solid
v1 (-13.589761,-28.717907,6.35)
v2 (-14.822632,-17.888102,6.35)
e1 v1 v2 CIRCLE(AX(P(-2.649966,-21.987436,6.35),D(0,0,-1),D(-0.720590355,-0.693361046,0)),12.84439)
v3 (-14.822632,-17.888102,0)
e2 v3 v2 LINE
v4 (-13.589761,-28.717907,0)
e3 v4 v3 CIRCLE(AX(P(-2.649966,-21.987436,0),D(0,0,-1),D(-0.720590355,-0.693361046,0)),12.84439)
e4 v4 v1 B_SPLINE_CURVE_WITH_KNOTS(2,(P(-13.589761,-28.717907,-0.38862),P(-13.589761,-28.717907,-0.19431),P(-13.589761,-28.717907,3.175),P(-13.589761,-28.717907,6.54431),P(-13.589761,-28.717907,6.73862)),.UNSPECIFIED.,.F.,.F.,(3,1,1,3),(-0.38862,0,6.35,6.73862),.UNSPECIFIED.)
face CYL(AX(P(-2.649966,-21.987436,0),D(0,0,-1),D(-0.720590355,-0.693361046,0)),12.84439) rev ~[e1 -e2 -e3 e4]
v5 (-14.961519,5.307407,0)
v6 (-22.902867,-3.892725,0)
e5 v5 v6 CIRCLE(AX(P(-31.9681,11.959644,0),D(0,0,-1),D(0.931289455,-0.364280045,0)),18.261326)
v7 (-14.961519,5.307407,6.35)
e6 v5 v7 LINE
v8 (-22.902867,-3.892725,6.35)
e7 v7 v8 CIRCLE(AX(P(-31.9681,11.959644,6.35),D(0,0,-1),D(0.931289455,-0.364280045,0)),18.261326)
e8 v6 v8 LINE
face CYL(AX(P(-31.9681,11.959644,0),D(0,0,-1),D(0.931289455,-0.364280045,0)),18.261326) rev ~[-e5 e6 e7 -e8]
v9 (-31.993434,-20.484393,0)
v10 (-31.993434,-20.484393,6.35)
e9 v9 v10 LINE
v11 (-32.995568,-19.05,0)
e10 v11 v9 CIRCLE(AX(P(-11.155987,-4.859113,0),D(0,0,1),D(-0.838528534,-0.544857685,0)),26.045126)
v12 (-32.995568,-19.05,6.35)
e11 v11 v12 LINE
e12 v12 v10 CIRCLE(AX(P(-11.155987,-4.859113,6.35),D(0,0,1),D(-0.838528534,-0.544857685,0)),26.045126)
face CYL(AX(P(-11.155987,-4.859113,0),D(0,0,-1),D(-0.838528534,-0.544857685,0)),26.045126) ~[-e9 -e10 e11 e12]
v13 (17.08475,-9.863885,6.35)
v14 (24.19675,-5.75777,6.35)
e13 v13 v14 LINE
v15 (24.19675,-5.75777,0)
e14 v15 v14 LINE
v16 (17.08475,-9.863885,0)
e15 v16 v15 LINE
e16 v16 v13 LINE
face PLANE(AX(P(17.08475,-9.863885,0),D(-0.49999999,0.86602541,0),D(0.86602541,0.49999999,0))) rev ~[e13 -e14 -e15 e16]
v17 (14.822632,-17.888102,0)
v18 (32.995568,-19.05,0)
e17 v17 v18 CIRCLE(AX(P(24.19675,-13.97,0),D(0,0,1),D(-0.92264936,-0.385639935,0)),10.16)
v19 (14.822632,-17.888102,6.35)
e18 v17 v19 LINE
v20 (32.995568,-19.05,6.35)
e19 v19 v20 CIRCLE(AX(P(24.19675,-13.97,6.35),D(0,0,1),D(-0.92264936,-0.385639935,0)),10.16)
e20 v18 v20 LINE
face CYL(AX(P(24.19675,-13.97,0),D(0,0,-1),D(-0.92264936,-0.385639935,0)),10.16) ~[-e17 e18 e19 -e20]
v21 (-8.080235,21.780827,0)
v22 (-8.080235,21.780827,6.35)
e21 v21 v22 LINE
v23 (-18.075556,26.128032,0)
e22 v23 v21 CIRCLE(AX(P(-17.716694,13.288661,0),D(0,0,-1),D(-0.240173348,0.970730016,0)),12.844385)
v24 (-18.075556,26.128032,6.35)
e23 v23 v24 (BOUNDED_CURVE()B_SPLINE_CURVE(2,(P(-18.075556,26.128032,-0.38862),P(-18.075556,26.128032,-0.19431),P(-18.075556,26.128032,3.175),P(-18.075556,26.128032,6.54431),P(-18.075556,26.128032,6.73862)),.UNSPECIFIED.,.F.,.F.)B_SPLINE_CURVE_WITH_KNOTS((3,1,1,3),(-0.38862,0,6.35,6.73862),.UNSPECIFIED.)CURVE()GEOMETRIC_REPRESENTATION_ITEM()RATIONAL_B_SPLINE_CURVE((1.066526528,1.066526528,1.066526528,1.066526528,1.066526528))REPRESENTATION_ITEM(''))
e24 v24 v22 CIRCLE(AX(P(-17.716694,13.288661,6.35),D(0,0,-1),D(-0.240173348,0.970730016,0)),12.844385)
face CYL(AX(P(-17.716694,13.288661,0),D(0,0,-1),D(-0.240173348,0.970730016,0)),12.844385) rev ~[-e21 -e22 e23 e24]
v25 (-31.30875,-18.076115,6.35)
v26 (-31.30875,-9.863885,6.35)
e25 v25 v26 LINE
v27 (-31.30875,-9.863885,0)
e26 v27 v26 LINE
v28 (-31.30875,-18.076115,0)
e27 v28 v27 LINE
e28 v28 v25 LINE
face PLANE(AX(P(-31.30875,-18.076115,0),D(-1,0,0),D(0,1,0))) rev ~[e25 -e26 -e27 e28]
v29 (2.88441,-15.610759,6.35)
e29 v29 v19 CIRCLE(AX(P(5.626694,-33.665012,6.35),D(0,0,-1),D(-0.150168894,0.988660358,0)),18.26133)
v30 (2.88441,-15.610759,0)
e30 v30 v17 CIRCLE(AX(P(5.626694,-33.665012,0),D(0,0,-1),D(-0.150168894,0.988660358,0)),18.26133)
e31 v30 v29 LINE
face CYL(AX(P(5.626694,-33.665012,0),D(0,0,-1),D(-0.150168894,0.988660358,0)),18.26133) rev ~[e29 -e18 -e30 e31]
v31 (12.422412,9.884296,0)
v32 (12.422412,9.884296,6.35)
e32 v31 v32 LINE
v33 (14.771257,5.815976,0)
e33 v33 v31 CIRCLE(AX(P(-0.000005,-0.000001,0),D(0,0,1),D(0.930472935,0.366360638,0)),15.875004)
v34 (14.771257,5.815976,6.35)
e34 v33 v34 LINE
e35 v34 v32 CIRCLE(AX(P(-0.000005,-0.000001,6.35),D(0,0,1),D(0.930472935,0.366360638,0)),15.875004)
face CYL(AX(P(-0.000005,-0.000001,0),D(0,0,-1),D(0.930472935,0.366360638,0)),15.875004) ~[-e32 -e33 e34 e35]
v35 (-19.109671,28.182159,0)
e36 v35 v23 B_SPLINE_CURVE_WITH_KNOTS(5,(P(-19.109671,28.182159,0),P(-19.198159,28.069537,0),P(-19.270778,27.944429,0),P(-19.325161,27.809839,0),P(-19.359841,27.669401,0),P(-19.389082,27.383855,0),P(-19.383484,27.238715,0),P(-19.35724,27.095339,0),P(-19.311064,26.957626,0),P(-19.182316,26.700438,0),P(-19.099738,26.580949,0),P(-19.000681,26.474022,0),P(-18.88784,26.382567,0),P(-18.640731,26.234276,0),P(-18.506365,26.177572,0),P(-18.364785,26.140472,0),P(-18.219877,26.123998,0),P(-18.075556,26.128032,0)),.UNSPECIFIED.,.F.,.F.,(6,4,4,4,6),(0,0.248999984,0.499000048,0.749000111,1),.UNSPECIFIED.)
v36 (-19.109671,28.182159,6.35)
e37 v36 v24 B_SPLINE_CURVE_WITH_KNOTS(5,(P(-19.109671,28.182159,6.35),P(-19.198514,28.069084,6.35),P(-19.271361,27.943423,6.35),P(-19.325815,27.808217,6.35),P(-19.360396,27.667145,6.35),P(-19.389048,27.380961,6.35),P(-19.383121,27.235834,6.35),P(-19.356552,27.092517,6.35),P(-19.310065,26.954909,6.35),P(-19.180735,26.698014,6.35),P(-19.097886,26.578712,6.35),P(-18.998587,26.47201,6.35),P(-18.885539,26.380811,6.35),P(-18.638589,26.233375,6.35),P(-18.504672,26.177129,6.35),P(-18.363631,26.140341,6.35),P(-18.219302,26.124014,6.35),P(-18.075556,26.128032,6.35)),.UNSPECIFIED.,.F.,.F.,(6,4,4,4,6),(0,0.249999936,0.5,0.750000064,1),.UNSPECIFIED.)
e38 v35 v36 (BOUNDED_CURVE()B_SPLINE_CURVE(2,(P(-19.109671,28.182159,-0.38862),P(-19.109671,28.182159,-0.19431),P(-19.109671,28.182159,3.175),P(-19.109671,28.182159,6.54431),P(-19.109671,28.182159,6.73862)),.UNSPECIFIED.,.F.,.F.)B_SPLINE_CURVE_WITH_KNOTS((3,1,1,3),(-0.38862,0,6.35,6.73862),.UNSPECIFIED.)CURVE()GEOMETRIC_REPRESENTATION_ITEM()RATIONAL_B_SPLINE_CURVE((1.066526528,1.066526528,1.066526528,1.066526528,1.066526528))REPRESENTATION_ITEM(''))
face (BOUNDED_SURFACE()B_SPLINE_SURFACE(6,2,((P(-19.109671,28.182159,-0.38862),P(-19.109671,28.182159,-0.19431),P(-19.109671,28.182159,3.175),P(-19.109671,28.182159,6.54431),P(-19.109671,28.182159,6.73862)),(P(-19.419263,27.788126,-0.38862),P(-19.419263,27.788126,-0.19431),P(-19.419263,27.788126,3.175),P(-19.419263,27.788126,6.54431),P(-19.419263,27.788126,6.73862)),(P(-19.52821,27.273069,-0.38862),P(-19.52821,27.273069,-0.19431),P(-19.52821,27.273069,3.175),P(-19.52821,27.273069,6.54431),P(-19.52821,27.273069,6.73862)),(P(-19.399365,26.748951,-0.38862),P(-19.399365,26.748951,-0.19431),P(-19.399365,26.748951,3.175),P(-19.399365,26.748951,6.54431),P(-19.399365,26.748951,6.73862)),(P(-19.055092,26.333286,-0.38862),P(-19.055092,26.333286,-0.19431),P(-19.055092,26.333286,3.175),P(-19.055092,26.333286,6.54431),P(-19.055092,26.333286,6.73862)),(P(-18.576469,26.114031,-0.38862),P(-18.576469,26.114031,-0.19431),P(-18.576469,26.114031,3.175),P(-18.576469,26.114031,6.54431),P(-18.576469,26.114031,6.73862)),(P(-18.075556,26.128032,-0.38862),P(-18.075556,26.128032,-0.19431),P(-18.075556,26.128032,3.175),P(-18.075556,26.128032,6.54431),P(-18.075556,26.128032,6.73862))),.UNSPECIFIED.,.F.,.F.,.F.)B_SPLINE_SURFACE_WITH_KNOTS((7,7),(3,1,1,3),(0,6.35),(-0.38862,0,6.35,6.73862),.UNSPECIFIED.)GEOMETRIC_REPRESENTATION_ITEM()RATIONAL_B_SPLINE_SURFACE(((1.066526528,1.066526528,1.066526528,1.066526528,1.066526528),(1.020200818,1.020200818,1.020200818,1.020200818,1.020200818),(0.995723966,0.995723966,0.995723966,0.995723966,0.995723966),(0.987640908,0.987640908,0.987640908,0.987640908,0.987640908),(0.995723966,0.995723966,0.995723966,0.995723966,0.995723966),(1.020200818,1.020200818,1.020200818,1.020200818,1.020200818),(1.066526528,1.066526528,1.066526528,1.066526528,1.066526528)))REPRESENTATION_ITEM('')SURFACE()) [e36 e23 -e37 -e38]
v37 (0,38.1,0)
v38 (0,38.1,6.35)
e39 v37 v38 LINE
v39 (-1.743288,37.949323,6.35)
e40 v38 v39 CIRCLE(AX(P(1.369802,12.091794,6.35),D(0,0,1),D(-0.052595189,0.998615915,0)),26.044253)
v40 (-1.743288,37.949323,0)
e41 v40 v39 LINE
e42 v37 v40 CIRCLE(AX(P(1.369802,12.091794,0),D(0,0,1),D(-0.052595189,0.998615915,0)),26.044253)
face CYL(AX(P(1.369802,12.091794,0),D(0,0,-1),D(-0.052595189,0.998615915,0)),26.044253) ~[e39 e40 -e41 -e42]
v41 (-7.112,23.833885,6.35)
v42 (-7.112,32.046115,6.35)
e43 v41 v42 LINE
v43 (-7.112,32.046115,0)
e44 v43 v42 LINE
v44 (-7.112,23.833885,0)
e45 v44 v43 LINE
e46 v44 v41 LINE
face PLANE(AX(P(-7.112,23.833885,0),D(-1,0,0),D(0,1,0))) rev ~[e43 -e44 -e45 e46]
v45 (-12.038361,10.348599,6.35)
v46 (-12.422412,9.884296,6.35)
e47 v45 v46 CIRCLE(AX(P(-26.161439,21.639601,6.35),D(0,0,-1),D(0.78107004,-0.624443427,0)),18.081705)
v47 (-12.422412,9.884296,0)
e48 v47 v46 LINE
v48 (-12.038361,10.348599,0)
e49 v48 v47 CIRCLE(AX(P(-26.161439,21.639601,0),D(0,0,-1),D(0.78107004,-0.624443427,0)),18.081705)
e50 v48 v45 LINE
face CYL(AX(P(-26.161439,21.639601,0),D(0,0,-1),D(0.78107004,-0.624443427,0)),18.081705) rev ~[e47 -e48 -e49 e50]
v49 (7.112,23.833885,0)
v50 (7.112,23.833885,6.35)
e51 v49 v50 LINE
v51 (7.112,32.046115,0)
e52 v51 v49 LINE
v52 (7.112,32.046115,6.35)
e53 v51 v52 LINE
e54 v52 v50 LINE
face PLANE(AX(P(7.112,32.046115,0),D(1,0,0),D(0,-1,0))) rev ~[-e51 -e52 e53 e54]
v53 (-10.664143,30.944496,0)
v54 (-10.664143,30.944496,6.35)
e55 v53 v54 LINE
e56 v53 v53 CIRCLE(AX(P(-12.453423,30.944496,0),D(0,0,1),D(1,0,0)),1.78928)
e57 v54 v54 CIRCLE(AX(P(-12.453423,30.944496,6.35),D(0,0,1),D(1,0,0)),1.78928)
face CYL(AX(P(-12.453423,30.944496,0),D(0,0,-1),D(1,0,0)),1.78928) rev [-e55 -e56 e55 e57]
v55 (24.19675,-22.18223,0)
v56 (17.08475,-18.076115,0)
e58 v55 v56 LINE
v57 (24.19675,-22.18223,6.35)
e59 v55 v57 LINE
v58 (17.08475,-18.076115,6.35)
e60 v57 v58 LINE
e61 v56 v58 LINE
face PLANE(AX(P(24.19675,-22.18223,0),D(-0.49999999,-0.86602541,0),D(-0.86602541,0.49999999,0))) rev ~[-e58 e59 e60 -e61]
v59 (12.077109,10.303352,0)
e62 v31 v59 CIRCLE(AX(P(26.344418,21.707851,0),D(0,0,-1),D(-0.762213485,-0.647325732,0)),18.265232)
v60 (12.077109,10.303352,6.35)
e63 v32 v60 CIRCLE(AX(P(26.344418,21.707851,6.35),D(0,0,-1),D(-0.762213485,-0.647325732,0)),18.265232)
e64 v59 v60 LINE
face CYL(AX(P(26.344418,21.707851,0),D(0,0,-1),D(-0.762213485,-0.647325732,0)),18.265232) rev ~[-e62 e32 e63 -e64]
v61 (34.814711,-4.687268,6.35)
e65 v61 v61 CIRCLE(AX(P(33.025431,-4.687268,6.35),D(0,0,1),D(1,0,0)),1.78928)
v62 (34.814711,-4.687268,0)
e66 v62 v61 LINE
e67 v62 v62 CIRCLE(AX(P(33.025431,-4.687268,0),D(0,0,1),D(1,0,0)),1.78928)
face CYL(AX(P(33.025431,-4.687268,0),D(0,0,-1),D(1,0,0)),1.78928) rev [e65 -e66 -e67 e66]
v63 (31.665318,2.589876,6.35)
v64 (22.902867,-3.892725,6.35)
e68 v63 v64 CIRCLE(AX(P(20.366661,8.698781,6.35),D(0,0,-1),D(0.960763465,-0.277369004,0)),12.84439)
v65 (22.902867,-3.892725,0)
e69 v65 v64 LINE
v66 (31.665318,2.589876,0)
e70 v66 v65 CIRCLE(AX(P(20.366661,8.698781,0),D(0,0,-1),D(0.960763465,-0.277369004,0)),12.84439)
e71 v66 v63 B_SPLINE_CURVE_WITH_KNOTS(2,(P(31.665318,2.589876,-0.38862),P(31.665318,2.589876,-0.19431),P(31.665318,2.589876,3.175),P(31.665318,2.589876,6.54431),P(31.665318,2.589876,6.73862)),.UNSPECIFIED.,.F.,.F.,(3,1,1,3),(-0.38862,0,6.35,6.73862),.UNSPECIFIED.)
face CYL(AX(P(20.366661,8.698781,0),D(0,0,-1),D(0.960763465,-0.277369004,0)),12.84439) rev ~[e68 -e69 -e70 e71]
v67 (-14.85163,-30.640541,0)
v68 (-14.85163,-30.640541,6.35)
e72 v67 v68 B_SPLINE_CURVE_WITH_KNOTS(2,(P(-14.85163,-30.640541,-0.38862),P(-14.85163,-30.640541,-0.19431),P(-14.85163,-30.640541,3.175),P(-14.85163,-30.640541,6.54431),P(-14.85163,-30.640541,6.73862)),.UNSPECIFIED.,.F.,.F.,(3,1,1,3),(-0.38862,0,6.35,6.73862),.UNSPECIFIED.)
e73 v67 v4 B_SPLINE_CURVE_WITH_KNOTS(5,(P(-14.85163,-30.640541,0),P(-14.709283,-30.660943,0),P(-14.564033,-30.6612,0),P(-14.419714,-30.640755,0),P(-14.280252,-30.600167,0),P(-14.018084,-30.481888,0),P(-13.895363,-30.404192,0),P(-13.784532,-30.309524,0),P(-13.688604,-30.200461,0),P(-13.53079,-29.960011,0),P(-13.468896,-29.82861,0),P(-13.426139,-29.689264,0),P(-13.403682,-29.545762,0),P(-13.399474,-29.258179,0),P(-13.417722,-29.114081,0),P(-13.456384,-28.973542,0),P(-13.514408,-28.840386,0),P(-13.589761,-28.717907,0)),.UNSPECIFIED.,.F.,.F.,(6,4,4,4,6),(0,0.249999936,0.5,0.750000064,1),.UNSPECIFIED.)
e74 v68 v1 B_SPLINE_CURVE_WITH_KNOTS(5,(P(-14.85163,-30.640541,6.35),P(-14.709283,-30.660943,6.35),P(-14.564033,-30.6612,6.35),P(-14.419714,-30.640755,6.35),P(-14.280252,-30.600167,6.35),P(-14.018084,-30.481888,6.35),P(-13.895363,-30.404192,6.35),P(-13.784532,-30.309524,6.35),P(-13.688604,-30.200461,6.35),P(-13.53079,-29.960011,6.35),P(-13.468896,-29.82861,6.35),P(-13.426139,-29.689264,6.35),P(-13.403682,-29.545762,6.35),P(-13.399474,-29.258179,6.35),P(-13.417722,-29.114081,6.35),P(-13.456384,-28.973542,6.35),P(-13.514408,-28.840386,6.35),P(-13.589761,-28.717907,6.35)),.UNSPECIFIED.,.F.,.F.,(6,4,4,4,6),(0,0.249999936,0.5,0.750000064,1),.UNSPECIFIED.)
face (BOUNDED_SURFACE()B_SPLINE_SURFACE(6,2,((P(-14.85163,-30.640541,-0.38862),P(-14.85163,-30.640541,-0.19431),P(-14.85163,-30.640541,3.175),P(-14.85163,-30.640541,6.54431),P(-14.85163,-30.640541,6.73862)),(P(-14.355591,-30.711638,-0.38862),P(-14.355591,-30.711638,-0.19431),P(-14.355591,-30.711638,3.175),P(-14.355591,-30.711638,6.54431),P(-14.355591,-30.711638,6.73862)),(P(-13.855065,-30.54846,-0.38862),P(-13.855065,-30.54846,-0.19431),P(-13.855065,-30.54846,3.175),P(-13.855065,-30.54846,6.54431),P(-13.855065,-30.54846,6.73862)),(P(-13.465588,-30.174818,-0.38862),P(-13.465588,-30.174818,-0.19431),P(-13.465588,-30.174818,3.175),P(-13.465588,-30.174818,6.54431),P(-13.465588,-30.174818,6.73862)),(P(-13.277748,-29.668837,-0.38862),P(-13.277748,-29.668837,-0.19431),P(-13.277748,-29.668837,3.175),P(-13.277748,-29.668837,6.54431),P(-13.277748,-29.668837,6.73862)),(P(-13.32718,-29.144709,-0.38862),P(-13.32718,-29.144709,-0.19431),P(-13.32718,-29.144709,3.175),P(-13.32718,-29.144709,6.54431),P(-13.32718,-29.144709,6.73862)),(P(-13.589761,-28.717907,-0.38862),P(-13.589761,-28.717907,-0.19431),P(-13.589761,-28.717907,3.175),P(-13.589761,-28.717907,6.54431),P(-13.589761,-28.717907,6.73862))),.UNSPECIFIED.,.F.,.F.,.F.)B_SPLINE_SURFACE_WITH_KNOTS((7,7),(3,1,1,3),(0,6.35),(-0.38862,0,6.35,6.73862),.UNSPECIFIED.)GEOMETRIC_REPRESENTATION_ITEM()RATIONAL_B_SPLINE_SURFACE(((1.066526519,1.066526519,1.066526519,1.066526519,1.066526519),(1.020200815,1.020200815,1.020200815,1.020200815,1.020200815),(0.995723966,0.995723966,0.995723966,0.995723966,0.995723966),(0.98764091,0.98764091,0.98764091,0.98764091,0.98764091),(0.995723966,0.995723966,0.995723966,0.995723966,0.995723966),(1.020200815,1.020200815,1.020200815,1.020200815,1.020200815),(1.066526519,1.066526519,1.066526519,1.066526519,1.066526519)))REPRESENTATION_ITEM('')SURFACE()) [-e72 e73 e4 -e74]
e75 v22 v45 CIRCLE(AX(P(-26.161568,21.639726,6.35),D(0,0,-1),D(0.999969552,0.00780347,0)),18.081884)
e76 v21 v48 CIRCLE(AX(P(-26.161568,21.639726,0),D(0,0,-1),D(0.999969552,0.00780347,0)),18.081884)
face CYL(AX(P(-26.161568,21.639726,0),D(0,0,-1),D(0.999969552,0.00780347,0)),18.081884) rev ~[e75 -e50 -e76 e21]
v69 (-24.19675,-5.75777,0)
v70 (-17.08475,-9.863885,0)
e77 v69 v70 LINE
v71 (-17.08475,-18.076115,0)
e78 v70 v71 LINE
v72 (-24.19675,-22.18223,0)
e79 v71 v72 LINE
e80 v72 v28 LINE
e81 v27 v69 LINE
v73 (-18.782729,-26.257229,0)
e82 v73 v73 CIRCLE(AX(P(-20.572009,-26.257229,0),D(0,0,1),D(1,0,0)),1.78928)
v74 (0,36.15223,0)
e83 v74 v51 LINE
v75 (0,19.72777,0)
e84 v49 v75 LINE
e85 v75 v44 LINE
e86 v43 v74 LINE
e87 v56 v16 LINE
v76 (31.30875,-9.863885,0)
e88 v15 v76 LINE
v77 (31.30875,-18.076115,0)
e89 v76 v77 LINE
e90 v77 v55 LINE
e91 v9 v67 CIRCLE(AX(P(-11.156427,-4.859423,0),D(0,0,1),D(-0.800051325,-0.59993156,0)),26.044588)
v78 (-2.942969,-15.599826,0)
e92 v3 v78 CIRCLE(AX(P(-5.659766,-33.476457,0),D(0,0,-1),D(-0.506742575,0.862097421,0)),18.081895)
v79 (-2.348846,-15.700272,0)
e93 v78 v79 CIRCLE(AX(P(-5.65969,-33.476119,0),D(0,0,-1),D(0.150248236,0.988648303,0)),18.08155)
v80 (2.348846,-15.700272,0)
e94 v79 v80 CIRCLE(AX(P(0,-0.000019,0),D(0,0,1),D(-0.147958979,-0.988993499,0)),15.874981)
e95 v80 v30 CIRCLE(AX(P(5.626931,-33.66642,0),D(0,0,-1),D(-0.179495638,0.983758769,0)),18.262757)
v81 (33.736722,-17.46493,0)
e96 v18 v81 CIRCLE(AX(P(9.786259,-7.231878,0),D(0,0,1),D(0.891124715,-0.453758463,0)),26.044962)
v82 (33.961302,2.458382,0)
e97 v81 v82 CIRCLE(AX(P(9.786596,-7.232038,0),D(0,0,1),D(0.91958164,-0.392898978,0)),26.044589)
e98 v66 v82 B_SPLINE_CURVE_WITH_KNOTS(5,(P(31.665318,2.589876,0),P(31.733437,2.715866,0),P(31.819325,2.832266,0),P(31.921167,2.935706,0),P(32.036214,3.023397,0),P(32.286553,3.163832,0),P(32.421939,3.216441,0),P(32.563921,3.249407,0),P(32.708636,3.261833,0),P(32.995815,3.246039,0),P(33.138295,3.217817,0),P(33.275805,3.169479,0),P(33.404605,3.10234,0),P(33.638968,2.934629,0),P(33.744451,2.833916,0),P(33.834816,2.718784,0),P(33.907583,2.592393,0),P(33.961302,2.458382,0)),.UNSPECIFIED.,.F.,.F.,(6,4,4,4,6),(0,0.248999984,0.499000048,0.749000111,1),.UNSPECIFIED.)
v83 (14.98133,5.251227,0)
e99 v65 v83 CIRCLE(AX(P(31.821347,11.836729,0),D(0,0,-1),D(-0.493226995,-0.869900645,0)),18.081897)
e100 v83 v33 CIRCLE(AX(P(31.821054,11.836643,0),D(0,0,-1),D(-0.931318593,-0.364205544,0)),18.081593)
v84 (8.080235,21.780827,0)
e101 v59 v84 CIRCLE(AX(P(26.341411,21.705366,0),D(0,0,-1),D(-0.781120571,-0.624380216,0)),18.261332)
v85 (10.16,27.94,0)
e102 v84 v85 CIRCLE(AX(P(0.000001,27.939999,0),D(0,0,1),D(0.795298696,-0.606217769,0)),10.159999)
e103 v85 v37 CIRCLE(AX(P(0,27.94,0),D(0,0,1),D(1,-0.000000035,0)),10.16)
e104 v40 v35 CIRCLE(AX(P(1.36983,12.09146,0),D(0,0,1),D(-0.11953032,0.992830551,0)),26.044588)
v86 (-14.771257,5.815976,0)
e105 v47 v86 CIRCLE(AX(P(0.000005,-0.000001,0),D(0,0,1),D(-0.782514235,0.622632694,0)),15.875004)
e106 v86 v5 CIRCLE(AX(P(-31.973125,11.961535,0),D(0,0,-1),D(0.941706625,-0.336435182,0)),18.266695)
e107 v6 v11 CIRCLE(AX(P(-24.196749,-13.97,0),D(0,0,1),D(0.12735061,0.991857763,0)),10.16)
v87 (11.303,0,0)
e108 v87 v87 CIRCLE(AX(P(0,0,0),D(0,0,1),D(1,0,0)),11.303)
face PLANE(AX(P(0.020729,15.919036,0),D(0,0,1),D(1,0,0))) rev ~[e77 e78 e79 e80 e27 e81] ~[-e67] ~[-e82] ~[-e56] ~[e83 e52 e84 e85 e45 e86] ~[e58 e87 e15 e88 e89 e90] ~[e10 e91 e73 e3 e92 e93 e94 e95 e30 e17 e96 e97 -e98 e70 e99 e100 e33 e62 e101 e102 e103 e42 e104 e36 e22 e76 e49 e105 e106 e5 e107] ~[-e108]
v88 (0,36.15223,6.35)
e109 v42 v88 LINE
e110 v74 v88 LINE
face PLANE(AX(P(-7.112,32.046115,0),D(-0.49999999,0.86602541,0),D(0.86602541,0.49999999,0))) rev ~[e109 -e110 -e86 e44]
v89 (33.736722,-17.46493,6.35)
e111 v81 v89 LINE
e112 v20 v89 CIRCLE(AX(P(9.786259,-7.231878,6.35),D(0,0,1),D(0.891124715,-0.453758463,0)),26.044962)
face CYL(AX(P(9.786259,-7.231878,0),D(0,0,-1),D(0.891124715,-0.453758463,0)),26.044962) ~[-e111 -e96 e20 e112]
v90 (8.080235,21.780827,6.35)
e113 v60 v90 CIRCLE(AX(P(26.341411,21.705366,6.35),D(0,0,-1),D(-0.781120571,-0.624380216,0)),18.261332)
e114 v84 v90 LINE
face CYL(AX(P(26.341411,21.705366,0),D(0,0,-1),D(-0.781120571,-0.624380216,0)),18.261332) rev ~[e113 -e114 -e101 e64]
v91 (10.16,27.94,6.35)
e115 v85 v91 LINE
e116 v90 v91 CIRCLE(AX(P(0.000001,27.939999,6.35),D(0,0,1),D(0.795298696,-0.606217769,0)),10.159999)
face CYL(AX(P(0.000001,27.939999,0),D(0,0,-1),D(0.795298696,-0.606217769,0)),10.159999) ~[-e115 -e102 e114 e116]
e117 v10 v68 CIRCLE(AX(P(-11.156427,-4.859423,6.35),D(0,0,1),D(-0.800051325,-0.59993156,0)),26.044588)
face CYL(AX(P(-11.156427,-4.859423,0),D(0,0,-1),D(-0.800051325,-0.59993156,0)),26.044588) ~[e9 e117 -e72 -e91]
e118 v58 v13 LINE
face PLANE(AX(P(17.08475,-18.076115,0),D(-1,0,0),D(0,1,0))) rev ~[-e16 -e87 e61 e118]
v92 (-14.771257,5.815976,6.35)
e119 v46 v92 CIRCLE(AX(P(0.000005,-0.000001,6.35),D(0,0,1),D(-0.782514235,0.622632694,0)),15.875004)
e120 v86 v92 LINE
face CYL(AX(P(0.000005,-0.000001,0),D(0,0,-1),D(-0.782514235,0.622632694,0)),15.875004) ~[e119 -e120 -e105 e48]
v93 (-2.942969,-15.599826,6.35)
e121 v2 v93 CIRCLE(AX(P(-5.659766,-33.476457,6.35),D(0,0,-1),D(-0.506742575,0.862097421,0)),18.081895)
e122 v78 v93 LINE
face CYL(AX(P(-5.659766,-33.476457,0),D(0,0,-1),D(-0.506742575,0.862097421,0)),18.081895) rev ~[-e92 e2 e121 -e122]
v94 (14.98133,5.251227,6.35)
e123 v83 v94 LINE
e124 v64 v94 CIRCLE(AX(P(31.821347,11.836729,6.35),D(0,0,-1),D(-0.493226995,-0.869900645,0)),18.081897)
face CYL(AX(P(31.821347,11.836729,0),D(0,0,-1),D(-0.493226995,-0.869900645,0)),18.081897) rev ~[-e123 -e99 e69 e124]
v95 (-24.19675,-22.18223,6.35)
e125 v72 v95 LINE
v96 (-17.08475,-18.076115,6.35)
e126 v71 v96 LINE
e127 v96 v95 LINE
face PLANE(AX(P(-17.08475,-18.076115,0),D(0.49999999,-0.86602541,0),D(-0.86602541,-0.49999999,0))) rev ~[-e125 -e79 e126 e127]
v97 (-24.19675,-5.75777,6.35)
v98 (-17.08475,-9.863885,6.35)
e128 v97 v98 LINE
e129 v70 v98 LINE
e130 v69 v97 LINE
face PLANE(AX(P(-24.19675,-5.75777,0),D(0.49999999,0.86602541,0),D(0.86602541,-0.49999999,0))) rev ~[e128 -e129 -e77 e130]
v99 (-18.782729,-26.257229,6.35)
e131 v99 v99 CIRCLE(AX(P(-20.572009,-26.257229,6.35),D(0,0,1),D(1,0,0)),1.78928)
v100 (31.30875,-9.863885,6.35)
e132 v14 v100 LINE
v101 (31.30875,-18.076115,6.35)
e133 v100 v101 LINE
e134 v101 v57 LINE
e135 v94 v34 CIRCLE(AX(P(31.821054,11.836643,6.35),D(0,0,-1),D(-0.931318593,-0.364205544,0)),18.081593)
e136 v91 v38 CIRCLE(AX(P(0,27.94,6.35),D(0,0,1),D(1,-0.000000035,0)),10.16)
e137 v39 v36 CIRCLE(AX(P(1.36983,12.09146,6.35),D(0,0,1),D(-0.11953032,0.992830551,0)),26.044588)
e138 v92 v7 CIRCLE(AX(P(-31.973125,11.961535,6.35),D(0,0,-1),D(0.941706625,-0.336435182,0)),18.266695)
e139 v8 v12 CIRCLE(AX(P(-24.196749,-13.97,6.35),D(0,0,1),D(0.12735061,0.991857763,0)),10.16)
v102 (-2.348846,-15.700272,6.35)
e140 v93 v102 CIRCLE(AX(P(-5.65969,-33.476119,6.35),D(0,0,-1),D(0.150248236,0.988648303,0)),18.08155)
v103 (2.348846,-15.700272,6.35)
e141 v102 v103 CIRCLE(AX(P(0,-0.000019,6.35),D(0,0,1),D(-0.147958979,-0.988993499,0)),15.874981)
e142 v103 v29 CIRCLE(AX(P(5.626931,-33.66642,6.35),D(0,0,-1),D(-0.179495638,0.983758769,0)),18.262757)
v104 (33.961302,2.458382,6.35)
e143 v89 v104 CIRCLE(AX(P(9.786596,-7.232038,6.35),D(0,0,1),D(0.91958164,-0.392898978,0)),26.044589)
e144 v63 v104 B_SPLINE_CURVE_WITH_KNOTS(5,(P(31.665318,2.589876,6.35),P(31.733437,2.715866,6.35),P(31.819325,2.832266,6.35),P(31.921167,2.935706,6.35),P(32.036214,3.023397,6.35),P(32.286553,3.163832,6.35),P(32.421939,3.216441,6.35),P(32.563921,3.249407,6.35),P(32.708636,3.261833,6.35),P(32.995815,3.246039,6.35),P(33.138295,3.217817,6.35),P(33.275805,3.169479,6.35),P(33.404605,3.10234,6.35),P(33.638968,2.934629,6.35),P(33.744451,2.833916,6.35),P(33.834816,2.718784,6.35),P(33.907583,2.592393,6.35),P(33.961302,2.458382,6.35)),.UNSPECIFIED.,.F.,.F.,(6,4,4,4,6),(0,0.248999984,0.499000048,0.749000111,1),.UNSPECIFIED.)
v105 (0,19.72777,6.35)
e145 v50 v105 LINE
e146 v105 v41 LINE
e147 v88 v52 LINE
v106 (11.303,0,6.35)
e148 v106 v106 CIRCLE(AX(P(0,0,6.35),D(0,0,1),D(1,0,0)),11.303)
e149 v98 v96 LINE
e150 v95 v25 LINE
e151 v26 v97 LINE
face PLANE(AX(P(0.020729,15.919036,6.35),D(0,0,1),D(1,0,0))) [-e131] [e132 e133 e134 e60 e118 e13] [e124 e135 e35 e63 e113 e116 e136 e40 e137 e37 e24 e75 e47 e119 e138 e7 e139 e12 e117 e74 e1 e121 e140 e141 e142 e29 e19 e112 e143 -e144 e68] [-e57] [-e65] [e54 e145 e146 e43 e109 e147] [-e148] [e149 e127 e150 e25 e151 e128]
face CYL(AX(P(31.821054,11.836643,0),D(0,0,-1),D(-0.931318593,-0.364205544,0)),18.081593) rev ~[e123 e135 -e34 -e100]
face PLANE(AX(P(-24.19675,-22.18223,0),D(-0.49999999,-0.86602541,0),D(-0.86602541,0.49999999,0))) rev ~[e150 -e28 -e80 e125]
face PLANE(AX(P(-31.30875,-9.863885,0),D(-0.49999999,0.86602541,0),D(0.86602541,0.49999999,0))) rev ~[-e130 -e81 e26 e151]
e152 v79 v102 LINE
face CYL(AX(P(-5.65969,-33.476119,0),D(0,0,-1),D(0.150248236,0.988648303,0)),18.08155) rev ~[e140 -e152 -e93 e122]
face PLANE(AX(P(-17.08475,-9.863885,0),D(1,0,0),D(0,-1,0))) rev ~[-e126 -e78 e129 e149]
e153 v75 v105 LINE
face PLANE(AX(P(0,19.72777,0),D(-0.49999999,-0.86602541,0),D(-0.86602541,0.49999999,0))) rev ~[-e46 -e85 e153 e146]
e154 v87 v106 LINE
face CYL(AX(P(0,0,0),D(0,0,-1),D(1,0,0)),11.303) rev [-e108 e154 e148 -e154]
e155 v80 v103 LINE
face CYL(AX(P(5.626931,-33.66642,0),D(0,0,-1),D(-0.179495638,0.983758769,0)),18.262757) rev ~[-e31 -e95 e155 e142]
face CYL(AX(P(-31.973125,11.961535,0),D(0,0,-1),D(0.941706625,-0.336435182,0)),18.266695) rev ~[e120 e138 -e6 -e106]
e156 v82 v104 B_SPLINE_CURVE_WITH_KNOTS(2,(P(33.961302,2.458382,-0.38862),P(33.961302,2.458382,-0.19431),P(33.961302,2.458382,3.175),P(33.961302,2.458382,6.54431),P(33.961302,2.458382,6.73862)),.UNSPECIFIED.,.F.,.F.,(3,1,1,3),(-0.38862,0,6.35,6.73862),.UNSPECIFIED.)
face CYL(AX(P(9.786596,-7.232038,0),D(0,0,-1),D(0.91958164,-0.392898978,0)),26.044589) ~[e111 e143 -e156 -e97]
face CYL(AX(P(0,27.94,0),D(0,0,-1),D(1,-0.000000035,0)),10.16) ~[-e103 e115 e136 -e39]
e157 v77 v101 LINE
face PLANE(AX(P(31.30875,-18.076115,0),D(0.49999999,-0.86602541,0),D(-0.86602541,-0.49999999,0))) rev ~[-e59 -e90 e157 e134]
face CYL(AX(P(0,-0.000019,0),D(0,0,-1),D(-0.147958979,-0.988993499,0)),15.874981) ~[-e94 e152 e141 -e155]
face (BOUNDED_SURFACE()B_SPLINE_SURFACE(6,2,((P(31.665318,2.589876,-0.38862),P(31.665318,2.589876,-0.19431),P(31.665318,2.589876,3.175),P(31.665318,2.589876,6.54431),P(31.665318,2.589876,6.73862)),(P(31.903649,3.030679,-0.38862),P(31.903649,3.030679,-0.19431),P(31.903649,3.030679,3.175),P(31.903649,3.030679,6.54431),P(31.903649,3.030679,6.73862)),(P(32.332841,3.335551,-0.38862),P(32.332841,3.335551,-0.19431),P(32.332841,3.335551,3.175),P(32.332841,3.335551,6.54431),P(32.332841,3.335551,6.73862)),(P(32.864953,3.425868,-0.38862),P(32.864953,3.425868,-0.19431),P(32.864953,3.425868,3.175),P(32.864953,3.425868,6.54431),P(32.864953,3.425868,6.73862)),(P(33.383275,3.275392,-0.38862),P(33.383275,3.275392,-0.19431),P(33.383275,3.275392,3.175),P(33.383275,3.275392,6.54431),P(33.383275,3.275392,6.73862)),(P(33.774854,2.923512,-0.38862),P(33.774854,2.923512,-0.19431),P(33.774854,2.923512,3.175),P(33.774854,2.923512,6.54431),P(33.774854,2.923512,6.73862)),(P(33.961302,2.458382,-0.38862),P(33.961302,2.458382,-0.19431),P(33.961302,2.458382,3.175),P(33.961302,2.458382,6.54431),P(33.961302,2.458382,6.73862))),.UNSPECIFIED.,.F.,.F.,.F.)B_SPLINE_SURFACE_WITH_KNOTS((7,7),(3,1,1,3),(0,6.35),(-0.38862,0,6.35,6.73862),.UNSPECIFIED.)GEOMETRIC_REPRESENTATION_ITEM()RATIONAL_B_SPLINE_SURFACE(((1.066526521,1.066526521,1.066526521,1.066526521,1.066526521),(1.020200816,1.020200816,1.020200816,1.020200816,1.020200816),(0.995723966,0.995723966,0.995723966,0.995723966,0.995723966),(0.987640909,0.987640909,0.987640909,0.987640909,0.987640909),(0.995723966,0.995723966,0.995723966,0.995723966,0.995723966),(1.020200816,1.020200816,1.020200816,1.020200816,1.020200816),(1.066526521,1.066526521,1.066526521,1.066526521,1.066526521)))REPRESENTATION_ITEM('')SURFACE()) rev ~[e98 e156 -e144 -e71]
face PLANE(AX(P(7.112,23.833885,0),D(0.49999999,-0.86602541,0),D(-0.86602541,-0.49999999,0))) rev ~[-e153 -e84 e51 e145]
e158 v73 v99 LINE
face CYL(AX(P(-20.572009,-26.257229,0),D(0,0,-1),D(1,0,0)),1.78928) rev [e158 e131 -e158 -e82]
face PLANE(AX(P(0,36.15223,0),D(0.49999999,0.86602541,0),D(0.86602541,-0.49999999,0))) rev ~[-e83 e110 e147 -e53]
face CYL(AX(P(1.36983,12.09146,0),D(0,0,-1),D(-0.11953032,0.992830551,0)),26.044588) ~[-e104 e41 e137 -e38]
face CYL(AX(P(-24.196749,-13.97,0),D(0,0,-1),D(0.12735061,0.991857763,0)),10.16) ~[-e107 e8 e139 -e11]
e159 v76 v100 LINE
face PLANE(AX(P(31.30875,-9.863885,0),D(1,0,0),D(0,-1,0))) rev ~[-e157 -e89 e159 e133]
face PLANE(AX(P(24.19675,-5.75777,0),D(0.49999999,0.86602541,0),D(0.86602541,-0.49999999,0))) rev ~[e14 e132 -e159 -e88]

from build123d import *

# Parameters (mm, degrees)
F0_R     = 1.78928
F0_R_2   = 11.303
F1_DEPTH = 6.35
F2_R     = 1.27


with BuildPart() as f1:
    # F0 (on Top) → F1 (new body)
    with BuildSketch(Plane.XY):
        with BuildLine():
            ThreePointArc((12.077109, 10.303352), (9.095838, 15.699831), (8.080235, 21.780827))
            ThreePointArc((8.080235, 21.780827), (0, 17.78), (-8.080235, 21.780827))
            ThreePointArc((-8.080235, 21.780827), (-9.074817, 15.723861), (-12.038361, 10.348599))
            ThreePointArc((-12.038361, 10.348599), (0.029785, 15.874972), (12.077109, 10.303352))
        make_face()
        with BuildLine():
            ThreePointArc((10.16, 27.94), (7.184205, 35.124205), (0, 38.1))
            ThreePointArc((0, 38.1), (-0.87291, 38.039306), (-1.743288, 37.949323))
            ThreePointArc((-1.743288, 37.949323), (-9.459411, 31.647444), (-8.080235, 21.780827))
            ThreePointArc((-8.080235, 21.780827), (0, 17.78), (8.080235, 21.780827))
            ThreePointArc((8.080235, 21.780827), (9.626027, 24.689583), (10.16, 27.94))
        make_face()
        Polygon((-7.112, 32.046115), (0, 36.15223), (7.112, 32.046115), (7.112, 23.833885), (0, 19.72777), (-7.112, 23.833885), align=None, mode=Mode.SUBTRACT)
        with BuildLine():
            ThreePointArc((-8.080235, 21.780827), (-9.459411, 31.647444), (-1.743288, 37.949323))
            ThreePointArc((-1.743288, 37.949323), (-12.66546, 34.030722), (-20.801573, 25.757091))
            ThreePointArc((-20.801573, 25.757091), (-13.884792, 25.548137), (-8.080235, 21.780827))
        make_face()
        with Locations((-12.453423, 30.944496)):
            Circle(F0_R, mode=Mode.SUBTRACT)
        with BuildLine():
            ThreePointArc((2.348846, -15.700272), (2.616295, -15.653525), (2.88441, -15.610759))
            ThreePointArc((2.88441, -15.610759), (12.202574, -10.154448), (15.875, 0))
            ThreePointArc((15.875, 0), (15.649988, 2.663364), (14.98133, 5.251227))
            ThreePointArc((14.98133, 5.251227), (14.873941, 5.532726), (14.771257, 5.815976))
            ThreePointArc((14.771257, 5.815976), (13.748153, 7.9375), (12.422412, 9.884296))
            ThreePointArc((12.422412, 9.884296), (12.248203, 10.092541), (12.077109, 10.303352))
            ThreePointArc((12.077109, 10.303352), (0.029785, 15.874972), (-12.038361, 10.348599))
            ThreePointArc((-12.038361, 10.348599), (-12.228452, 10.114848), (-12.422412, 9.884296))
            ThreePointArc((-12.422412, 9.884296), (-13.748153, 7.9375), (-14.771257, 5.815976))
            ThreePointArc((-14.771257, 5.815976), (-14.864498, 5.560985), (-14.961519, 5.307407))
            ThreePointArc((-14.961519, 5.307407), (-13.763022, -7.911691), (-2.942969, -15.599826))
            ThreePointArc((-2.942969, -15.599826), (-2.645489, -15.647574), (-2.348846, -15.700272))
            ThreePointArc((-2.348846, -15.700272), (0, -15.875), (2.348846, -15.700272))
        make_face()
        Circle(F0_R_2, mode=Mode.SUBTRACT)
        with BuildLine():
            ThreePointArc((-22.902867, -3.892725), (-32.653508, -8.33894), (-32.995568, -19.05))
            ThreePointArc((-32.995568, -19.05), (-32.50655, -19.775615), (-31.993434, -20.484393))
            ThreePointArc((-31.993434, -20.484393), (-22.677785, -24.015812), (-14.822632, -17.888102))
            ThreePointArc((-14.822632, -17.888102), (-14.235158, -15.96807), (-14.03675, -13.97))
            ThreePointArc((-14.03675, -13.97), (-16.568793, -7.258825), (-22.902867, -3.892725))
        make_face()
        Polygon((-17.08475, -9.863885), (-17.08475, -18.076115), (-24.19675, -22.18223), (-31.30875, -18.076115), (-31.30875, -9.863885), (-24.19675, -5.75777), align=None, mode=Mode.SUBTRACT)
        with BuildLine():
            ThreePointArc((-14.961519, 5.307407), (-18.144371, 0.027311), (-22.902867, -3.892725))
            ThreePointArc((-22.902867, -3.892725), (-16.568793, -7.258825), (-14.03675, -13.97))
            ThreePointArc((-14.03675, -13.97), (-14.235158, -15.96807), (-14.822632, -17.888102))
            ThreePointArc((-14.822632, -17.888102), (-9.079854, -15.720953), (-2.942969, -15.599826))
            ThreePointArc((-2.942969, -15.599826), (-13.763022, -7.911691), (-14.961519, 5.307407))
        make_face()
        with BuildLine():
            ThreePointArc((-14.822632, -17.888102), (-22.677785, -24.015812), (-31.993434, -20.484393))
            ThreePointArc((-31.993434, -20.484393), (-23.13874, -27.983971), (-11.905509, -30.893236))
            ThreePointArc((-11.905509, -30.893236), (-15.182939, -24.798651), (-14.822632, -17.888102))
        make_face()
        with Locations((-20.572009, -26.257229)):
            Circle(F0_R, mode=Mode.SUBTRACT)
        with BuildLine():
            ThreePointArc((2.88441, -15.610759), (9.048534, -15.727142), (14.822632, -17.888102))
            ThreePointArc((14.822632, -17.888102), (15.397932, -8.89), (22.902867, -3.892725))
            ThreePointArc((22.902867, -3.892725), (18.154672, -0.002908), (14.98133, 5.251227))
            ThreePointArc((14.98133, 5.251227), (15.649988, 2.663364), (15.875, 0))
            ThreePointArc((15.875, 0), (12.202574, -10.154448), (2.88441, -15.610759))
        make_face()
        with BuildLine():
            ThreePointArc((14.822632, -17.888102), (23.548488, -24.109298), (32.995568, -19.05))
            ThreePointArc((32.995568, -19.05), (33.37946, -18.263691), (33.736722, -17.46493))
            ThreePointArc((33.736722, -17.46493), (34.200542, -15.744752), (34.35675, -13.97))
            ThreePointArc((34.35675, -13.97), (30.907925, -6.342043), (22.902867, -3.892725))
            ThreePointArc((22.902867, -3.892725), (15.397932, -8.89), (14.822632, -17.888102))
        make_face()
        Polygon((17.08475, -9.863885), (24.19675, -5.75777), (31.30875, -9.863885), (31.30875, -18.076115), (24.19675, -22.18223), (17.08475, -18.076115), align=None, mode=Mode.SUBTRACT)
        with BuildLine():
            ThreePointArc((34.35675, -13.97), (34.200542, -15.744752), (33.736722, -17.46493))
            ThreePointArc((33.736722, -17.46493), (35.8042, -6.046751), (32.707082, 5.136145))
            ThreePointArc((32.707082, 5.136145), (29.067732, -0.749485), (22.902867, -3.892725))
            ThreePointArc((22.902867, -3.892725), (30.907925, -6.342043), (34.35675, -13.97))
        make_face()
        with Locations((33.025431, -4.687268)):
            Circle(F0_R, mode=Mode.SUBTRACT)
    extrude(amount=F1_DEPTH)

    # F2
    f2_edges = [f1.edges().sort_by_distance(p)[0] for p in [
        (-20.801573, 25.757091, 3.175),
        (-11.905509, -30.893236, 3.175),
        (32.707082, 5.136145, 3.175),
    ]]
    fillet(f2_edges, radius=F2_R)


solid = f1.part
